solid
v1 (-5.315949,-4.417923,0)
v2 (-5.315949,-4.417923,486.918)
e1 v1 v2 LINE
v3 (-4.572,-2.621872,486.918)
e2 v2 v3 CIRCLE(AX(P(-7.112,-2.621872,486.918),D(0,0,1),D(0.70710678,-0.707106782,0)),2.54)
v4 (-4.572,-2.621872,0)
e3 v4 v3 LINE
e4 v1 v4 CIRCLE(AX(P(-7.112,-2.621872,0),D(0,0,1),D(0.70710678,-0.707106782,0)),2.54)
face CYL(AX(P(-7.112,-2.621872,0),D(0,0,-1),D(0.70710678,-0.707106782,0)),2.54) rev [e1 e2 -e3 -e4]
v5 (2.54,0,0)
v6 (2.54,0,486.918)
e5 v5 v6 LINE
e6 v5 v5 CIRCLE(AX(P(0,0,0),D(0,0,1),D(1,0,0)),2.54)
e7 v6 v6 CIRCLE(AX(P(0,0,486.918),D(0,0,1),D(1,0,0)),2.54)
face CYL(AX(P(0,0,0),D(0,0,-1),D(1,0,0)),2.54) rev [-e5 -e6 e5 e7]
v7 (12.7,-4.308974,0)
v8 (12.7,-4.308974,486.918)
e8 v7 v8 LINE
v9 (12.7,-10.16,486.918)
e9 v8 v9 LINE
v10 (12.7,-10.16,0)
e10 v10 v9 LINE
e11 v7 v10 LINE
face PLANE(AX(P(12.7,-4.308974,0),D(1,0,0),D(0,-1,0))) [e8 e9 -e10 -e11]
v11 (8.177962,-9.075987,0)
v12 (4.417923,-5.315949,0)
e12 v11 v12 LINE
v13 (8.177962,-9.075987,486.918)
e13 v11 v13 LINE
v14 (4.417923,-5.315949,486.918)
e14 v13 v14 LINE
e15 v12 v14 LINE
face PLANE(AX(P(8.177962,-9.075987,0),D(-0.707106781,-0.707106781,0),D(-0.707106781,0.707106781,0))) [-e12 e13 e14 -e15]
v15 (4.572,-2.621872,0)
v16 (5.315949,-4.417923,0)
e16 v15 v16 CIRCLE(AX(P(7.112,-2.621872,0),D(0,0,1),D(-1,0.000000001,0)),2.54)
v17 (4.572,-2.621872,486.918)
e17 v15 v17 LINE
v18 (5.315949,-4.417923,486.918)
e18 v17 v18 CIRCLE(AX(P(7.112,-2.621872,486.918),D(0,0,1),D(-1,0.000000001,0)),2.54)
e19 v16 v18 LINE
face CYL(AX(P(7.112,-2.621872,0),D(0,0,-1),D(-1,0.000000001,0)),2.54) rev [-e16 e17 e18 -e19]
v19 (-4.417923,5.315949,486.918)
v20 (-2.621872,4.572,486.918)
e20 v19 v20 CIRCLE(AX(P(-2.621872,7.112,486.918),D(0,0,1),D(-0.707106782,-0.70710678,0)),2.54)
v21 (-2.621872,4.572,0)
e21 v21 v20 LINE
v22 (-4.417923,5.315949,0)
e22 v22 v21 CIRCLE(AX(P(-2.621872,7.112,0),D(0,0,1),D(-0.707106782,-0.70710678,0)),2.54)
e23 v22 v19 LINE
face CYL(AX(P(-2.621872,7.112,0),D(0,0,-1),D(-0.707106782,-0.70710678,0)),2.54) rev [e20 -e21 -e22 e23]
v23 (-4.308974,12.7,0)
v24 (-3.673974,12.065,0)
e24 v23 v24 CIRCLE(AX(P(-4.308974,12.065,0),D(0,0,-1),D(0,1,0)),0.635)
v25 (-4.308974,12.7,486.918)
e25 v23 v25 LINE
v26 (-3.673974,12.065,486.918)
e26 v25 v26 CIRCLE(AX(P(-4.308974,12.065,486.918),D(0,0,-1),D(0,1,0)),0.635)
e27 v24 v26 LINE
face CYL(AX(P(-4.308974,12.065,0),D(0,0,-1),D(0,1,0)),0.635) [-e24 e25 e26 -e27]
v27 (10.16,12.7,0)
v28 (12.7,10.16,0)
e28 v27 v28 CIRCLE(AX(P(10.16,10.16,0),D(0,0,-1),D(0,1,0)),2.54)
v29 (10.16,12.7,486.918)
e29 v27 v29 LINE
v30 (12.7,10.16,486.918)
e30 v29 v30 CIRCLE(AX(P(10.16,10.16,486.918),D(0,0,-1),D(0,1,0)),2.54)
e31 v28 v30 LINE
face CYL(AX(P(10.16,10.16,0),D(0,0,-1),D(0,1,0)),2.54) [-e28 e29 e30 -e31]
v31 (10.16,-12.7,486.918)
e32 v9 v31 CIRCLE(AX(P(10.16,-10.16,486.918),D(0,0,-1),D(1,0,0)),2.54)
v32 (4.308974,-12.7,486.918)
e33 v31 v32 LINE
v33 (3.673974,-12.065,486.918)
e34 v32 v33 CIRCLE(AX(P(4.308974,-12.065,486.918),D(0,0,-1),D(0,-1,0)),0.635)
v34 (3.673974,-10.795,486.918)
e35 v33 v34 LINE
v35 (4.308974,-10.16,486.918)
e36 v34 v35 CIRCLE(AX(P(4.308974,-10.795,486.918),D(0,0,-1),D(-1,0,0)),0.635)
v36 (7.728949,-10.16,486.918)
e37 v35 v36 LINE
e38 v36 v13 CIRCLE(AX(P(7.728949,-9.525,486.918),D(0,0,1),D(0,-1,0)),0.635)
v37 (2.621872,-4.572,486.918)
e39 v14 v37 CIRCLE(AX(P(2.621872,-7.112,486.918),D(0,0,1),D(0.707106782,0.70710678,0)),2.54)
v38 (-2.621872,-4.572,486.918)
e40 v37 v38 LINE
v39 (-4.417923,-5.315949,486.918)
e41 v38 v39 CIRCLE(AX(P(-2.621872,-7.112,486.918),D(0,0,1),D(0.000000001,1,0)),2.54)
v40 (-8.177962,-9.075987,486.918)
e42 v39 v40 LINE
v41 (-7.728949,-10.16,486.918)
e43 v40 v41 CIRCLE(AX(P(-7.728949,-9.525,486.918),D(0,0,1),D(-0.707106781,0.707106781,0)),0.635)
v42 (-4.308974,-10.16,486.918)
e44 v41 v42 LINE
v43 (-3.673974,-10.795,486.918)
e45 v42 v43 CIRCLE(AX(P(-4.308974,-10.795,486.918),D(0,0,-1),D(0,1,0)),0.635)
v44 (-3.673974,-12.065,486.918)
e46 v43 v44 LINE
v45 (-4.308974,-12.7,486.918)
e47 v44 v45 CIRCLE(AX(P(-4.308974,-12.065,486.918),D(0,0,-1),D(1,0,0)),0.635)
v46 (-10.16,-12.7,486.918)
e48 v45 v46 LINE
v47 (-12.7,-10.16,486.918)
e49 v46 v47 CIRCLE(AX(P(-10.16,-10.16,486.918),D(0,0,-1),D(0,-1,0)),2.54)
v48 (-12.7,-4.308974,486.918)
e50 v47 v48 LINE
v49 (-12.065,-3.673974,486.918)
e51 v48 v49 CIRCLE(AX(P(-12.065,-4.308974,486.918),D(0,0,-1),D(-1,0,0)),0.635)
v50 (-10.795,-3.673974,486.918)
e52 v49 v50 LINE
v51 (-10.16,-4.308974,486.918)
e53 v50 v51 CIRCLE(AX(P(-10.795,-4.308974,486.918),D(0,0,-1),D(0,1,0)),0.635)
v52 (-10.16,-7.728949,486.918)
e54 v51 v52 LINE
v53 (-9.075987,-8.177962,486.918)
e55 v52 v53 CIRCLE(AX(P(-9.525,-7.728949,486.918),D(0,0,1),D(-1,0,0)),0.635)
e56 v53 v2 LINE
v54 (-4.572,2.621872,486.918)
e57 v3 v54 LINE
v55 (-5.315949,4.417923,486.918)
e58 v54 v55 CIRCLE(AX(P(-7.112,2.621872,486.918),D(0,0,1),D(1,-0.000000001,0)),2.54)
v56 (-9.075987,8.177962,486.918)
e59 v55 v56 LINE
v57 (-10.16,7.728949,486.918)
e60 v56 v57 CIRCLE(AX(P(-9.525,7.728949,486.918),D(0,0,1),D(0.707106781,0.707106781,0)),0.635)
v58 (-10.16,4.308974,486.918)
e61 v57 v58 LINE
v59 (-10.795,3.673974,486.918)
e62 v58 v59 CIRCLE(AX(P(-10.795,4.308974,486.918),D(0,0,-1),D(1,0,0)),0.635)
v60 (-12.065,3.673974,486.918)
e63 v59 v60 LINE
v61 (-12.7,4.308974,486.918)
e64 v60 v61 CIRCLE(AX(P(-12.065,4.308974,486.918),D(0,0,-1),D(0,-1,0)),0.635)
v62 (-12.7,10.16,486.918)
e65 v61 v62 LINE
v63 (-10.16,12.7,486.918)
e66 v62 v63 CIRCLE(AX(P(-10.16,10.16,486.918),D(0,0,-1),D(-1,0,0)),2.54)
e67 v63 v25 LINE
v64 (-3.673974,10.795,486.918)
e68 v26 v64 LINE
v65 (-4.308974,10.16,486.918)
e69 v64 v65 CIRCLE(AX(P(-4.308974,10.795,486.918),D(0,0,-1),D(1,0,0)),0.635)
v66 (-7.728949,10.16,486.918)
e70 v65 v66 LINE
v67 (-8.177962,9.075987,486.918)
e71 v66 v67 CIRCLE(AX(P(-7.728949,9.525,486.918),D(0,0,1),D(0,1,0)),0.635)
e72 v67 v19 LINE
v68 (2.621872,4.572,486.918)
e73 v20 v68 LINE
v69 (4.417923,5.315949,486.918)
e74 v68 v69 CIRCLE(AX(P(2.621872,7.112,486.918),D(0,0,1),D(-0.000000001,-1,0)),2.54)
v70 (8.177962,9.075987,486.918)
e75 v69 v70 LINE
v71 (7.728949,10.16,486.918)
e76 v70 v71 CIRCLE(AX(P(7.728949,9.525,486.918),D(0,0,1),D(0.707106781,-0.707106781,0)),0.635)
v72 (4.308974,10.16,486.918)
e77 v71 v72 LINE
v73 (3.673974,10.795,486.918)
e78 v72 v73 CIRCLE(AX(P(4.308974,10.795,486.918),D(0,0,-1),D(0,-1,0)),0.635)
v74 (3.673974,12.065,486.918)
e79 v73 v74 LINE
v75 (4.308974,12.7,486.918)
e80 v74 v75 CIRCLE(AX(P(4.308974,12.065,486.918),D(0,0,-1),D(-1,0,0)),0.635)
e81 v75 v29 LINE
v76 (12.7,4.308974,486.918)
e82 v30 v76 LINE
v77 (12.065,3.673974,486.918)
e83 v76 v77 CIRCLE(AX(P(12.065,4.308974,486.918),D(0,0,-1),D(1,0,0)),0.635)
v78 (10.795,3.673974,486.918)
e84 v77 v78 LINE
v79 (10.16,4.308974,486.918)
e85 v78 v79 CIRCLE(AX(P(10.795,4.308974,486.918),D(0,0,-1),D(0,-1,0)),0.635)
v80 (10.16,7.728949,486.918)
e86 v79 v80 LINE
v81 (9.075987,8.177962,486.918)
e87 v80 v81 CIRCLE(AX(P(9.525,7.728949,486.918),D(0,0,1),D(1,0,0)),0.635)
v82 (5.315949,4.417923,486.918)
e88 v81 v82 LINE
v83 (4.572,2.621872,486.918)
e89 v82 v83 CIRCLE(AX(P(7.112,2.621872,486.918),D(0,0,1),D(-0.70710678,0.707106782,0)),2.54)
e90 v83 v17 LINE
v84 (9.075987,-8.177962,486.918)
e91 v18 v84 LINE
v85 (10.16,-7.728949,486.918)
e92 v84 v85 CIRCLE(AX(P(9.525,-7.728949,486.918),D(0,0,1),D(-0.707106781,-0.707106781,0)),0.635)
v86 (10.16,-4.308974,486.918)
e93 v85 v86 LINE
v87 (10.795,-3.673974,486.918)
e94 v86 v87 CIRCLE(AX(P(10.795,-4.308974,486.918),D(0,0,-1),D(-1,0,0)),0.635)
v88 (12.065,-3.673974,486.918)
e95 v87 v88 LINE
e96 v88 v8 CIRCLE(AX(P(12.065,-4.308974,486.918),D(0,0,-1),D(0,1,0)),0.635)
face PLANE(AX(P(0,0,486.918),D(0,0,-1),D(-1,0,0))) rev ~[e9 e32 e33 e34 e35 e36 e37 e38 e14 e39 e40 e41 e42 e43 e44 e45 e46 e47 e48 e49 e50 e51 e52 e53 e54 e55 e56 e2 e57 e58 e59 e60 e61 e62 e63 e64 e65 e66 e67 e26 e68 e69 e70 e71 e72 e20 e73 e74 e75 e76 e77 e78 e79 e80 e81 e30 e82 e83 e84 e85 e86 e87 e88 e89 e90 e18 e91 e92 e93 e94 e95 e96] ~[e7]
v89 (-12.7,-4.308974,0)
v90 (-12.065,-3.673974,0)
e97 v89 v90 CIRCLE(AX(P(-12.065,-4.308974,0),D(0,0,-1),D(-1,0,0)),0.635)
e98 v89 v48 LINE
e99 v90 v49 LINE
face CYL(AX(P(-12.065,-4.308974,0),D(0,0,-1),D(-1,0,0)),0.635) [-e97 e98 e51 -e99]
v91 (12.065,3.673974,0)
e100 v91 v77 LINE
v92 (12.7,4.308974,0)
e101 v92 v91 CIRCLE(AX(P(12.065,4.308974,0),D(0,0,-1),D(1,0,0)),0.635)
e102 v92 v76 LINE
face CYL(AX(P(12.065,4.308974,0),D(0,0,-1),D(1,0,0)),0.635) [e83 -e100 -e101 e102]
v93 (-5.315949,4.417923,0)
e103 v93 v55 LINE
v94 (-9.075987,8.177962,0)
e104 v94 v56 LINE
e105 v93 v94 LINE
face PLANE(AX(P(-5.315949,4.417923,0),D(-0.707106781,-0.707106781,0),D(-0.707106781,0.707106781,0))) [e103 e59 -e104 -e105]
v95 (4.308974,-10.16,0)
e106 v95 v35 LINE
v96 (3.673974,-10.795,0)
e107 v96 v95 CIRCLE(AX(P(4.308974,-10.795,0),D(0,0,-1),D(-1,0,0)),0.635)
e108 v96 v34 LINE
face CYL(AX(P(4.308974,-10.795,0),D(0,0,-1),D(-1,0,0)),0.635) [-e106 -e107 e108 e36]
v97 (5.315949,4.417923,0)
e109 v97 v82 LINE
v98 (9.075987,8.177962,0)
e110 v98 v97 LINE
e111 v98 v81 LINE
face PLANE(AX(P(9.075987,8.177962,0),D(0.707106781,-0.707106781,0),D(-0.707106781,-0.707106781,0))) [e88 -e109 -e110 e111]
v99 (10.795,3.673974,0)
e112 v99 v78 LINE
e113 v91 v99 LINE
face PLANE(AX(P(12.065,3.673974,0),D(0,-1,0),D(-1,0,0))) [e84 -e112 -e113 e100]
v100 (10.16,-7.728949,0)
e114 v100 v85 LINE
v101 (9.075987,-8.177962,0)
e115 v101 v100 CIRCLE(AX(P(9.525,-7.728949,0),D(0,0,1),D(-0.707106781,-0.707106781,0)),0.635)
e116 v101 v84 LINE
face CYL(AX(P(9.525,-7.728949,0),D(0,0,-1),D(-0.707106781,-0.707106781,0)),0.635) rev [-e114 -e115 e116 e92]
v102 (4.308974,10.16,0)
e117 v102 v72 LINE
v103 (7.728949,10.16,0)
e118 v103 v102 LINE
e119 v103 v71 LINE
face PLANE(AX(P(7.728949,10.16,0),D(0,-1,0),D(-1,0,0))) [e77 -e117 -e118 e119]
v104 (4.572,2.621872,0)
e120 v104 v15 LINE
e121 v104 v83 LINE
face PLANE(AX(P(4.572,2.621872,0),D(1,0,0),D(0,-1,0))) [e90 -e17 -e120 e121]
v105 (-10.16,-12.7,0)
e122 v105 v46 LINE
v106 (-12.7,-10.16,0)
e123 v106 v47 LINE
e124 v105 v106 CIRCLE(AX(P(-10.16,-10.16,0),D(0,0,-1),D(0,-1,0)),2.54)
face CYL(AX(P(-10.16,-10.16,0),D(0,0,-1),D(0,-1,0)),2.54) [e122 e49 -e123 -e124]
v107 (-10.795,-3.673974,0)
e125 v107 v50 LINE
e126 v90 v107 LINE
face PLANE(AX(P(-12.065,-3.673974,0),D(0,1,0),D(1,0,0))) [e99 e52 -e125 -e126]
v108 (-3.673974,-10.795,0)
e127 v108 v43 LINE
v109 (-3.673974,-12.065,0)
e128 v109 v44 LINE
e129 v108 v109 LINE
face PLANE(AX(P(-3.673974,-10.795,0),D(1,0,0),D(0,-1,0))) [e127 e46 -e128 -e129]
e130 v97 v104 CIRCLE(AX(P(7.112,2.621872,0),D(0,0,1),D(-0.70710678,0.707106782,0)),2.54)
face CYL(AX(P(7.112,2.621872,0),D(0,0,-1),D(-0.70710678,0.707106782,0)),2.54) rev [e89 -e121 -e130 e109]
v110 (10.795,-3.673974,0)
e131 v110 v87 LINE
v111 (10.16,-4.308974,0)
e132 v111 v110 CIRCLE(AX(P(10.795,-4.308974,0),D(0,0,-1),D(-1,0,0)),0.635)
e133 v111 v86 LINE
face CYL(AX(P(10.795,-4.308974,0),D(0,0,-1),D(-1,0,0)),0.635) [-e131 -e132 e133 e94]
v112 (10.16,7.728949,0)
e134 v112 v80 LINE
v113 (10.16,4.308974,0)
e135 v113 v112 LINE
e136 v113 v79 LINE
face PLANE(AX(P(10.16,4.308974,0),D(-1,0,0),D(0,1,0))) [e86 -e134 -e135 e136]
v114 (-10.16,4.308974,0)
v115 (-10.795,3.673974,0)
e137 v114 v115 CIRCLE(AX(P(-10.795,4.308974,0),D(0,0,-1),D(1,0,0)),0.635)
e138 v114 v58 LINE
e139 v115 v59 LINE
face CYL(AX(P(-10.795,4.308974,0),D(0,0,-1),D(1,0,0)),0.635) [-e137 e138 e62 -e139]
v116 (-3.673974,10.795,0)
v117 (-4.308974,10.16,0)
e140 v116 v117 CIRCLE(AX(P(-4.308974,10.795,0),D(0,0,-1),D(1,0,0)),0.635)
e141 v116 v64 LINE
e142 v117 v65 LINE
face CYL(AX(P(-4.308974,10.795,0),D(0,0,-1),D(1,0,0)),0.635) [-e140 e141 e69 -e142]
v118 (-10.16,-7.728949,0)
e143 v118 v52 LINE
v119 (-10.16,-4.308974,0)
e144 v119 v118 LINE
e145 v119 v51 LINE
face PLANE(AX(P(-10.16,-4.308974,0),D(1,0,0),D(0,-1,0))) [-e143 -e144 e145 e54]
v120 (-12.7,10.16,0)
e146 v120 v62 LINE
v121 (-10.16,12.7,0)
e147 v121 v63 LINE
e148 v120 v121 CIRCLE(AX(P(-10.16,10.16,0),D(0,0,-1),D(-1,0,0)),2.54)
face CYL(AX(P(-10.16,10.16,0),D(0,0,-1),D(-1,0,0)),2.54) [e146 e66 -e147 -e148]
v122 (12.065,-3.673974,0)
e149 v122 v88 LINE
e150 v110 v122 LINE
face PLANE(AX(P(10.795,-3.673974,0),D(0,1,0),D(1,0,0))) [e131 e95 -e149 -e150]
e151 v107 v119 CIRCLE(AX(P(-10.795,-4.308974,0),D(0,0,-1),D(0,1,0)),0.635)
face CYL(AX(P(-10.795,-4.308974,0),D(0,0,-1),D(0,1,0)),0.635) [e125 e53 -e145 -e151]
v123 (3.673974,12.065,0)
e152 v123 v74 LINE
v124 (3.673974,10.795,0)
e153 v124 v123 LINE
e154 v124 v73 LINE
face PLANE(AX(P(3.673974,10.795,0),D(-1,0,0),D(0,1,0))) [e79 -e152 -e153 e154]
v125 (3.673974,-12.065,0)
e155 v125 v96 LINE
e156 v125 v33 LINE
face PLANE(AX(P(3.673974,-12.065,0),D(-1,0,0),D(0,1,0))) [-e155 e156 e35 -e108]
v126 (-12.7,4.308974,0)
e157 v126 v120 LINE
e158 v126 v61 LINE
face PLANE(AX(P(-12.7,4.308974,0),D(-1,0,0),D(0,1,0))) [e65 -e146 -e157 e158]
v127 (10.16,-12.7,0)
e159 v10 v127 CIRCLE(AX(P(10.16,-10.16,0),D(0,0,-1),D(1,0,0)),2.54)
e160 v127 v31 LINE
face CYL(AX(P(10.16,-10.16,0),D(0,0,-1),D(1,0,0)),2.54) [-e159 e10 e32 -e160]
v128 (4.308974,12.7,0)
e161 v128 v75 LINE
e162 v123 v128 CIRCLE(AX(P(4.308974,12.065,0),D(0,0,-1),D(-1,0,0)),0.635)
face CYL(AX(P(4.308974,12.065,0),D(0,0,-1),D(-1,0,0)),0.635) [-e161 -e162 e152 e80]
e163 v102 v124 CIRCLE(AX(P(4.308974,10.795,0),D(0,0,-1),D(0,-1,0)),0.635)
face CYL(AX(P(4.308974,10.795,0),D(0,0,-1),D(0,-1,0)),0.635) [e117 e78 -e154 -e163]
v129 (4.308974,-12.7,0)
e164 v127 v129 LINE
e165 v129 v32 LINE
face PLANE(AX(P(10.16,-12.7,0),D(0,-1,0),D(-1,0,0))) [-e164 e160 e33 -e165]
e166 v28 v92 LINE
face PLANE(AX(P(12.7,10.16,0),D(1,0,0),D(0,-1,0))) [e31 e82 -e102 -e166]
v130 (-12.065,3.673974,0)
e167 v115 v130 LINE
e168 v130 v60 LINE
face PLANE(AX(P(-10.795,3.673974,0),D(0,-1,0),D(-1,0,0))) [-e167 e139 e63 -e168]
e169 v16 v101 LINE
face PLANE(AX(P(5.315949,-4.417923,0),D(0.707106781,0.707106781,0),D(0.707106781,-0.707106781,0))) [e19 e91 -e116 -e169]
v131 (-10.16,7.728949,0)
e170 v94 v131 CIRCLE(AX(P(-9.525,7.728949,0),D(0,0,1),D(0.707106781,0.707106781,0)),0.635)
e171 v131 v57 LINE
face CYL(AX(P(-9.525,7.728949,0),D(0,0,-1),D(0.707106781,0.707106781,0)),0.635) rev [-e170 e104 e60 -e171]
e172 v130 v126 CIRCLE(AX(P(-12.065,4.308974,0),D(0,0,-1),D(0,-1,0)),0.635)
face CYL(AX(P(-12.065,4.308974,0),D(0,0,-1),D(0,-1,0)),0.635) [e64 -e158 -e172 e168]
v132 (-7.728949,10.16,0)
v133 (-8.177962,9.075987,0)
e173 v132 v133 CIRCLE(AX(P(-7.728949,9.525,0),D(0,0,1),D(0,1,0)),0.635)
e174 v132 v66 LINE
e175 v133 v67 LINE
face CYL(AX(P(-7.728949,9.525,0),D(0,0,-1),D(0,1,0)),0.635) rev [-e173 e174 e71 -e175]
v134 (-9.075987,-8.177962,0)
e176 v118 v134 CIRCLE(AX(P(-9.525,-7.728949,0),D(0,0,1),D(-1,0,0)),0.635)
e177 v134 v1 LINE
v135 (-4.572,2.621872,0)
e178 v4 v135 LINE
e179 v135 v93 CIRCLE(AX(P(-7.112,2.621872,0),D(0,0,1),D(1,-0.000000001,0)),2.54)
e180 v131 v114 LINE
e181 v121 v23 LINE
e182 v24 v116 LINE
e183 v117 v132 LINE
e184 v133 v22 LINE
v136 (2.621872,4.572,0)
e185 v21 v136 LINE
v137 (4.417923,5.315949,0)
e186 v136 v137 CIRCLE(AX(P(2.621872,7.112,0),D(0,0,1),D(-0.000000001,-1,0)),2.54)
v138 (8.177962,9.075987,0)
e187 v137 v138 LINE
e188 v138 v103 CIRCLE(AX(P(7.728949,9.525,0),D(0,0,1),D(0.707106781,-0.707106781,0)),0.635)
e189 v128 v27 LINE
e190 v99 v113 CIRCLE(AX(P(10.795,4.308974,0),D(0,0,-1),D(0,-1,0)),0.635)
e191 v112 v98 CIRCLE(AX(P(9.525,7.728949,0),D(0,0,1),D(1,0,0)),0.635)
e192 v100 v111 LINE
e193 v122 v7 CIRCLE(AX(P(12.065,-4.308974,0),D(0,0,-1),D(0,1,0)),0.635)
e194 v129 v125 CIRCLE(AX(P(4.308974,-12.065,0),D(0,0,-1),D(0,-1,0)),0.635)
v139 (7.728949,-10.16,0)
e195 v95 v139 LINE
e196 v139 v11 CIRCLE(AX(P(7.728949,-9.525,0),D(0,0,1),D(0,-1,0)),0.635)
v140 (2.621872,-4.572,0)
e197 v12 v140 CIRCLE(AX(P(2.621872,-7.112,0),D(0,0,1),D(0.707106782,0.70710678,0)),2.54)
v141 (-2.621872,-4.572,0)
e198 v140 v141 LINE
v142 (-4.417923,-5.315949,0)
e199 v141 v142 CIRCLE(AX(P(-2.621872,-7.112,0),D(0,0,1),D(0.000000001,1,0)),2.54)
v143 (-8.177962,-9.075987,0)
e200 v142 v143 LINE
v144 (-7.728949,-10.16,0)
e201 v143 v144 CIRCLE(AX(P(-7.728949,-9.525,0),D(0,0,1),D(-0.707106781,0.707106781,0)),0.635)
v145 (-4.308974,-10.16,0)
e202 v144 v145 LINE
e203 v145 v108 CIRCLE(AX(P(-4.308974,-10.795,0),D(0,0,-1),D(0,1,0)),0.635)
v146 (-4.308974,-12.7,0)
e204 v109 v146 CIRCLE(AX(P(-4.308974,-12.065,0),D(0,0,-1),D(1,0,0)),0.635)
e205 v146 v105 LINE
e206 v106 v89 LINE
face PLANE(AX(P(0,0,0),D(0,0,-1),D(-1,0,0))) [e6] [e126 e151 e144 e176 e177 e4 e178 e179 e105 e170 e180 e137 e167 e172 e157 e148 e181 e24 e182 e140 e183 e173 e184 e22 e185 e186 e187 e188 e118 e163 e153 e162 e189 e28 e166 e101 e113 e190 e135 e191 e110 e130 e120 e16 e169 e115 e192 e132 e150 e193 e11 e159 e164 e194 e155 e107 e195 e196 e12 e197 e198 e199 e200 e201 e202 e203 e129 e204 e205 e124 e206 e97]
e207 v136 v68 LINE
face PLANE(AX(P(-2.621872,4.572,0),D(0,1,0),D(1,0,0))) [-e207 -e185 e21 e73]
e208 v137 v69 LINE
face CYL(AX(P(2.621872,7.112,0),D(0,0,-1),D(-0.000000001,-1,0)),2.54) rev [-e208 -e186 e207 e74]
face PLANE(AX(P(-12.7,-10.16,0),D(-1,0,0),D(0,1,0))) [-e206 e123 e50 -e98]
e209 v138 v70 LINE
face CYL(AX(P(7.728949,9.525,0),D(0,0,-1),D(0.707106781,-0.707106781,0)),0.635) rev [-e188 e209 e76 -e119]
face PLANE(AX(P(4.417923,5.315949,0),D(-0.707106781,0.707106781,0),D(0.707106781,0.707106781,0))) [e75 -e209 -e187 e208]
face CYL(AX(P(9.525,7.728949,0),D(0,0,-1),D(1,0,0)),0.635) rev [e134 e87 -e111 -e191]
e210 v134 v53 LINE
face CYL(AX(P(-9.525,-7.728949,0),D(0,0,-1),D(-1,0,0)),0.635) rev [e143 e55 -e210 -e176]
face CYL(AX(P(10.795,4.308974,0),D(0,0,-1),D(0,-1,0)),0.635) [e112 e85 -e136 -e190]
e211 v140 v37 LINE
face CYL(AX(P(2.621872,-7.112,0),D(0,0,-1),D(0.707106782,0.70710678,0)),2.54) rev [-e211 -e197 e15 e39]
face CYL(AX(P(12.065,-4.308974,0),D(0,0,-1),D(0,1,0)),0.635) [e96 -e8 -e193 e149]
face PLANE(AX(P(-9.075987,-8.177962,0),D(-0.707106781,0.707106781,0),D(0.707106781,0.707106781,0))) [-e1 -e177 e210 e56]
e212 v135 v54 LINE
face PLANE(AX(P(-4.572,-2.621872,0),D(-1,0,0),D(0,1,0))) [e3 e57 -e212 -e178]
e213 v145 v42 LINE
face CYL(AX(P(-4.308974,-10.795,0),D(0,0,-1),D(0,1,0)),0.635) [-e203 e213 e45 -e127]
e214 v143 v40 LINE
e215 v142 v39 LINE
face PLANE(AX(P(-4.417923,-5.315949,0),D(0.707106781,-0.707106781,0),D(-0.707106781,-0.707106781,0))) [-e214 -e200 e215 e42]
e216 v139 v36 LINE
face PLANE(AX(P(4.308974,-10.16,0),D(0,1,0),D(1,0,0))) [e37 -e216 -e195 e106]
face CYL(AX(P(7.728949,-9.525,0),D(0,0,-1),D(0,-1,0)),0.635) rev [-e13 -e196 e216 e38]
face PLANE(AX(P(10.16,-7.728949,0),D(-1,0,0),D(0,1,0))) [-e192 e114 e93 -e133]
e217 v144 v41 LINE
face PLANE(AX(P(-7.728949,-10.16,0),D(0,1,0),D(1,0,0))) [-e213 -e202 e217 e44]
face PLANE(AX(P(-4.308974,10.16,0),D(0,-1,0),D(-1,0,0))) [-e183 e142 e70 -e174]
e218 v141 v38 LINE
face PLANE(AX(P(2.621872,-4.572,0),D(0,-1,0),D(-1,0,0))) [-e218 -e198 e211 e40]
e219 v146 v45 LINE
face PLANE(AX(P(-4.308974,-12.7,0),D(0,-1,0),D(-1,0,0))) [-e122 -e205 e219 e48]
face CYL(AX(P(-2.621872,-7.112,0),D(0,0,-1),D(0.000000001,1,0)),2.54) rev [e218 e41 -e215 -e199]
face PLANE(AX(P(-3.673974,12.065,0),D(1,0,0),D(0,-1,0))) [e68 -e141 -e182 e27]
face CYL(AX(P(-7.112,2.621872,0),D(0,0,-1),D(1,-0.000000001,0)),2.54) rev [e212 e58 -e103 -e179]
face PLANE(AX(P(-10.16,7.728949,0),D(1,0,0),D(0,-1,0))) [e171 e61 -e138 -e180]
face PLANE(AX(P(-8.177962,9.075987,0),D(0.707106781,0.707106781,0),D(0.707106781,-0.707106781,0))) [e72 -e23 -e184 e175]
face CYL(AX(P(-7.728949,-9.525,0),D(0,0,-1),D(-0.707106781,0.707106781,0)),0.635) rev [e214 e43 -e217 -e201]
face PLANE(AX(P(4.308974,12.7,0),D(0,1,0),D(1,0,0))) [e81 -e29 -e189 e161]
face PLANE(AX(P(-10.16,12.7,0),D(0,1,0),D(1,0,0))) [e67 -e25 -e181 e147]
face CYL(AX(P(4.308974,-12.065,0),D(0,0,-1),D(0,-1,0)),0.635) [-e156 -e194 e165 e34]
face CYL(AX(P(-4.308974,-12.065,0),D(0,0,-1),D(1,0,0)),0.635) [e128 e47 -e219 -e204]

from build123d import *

# Parameters (mm, degrees)
SKETCH1_R           = 2.54
BOSS_EXTRUDE1_DEPTH = 486.918


with BuildPart() as part:
    # Sketch1 → Boss-Extrude1 (new body)
    with BuildSketch(Plane.XY):
        with BuildLine():
            Line((4.417923164, 5.315948776), (8.177961582, 9.075987194))
            ThreePointArc((8.177961582, 9.075987194), (8.315612279, 9.76800398), (7.728948776, 10.16))
            Line((7.728948776, 10.16), (4.308974388, 10.16))
            ThreePointArc((4.308974388, 10.16), (3.859961582, 10.345987194), (3.673974388, 10.795))
            Line((3.673974388, 10.795), (3.673974388, 12.065))
            ThreePointArc((3.673974388, 12.065), (3.859961582, 12.514012806), (4.308974388, 12.7))
            Line((4.308974388, 12.7), (10.16, 12.7))
            ThreePointArc((10.16, 12.7), (11.956051224, 11.956051224), (12.7, 10.16))
            Line((12.7, 10.16), (12.7, 4.308974388))
            ThreePointArc((12.7, 4.308974388), (12.514012806, 3.859961582), (12.065, 3.673974388))
            Line((12.065, 3.673974388), (10.795, 3.673974388))
            ThreePointArc((10.795, 3.673974388), (10.345987194, 3.859961582), (10.16, 4.308974388))
            Line((10.16, 4.308974388), (10.16, 7.728948776))
            ThreePointArc((10.16, 7.728948776), (9.76800398, 8.315612279), (9.075987194, 8.177961582))
            Line((9.075987194, 8.177961582), (5.315948776, 4.417923164))
            ThreePointArc((5.315948776, 4.417923164), (4.765345987, 3.593887858), (4.572, 2.621871939))
            Line((4.572, 2.621871939), (4.572, -2.621871939))
            ThreePointArc((4.572, -2.621871939), (4.765345987, -3.593887858), (5.315948776, -4.417923164))
            Line((5.315948776, -4.417923164), (9.075987194, -8.177961582))
            ThreePointArc((9.075987194, -8.177961582), (9.76800398, -8.315612279), (10.16, -7.728948776))
            Line((10.16, -7.728948776), (10.16, -4.308974388))
            ThreePointArc((10.16, -4.308974388), (10.345987194, -3.859961582), (10.795, -3.673974388))
            Line((10.795, -3.673974388), (12.065, -3.673974388))
            ThreePointArc((12.065, -3.673974388), (12.514012806, -3.859961582), (12.7, -4.308974388))
            Line((12.7, -4.308974388), (12.7, -10.16))
            ThreePointArc((12.7, -10.16), (11.956051224, -11.956051224), (10.16, -12.7))
            Line((10.16, -12.7), (4.308974388, -12.7))
            ThreePointArc((4.308974388, -12.7), (3.859961582, -12.514012806), (3.673974388, -12.065))
            Line((3.673974388, -12.065), (3.673974388, -10.795))
            ThreePointArc((3.673974388, -10.795), (3.859961582, -10.345987194), (4.308974388, -10.16))
            Line((4.308974388, -10.16), (7.728948776, -10.16))
            ThreePointArc((7.728948776, -10.16), (8.315612279, -9.76800398), (8.177961582, -9.075987194))
            Line((8.177961582, -9.075987194), (4.417923164, -5.315948776))
            ThreePointArc((4.417923164, -5.315948776), (3.593887858, -4.765345987), (2.621871939, -4.572))
            Line((2.621871939, -4.572), (-2.621871939, -4.572))
            ThreePointArc((-2.621871939, -4.572), (-3.593887858, -4.765345987), (-4.417923164, -5.315948776))
            Line((-4.417923164, -5.315948776), (-8.177961582, -9.075987194))
            ThreePointArc((-8.177961582, -9.075987194), (-8.315612279, -9.76800398), (-7.728948776, -10.16))
            Line((-7.728948776, -10.16), (-4.308974388, -10.16))
            ThreePointArc((-4.308974388, -10.16), (-3.859961582, -10.345987194), (-3.673974388, -10.795))
            Line((-3.673974388, -10.795), (-3.673974388, -12.065))
            ThreePointArc((-3.673974388, -12.065), (-3.859961582, -12.514012806), (-4.308974388, -12.7))
            Line((-4.308974388, -12.7), (-10.16, -12.7))
            ThreePointArc((-10.16, -12.7), (-11.956051224, -11.956051224), (-12.7, -10.16))
            Line((-12.7, -10.16), (-12.7, -4.308974388))
            ThreePointArc((-12.7, -4.308974388), (-12.514012806, -3.859961582), (-12.065, -3.673974388))
            Line((-12.065, -3.673974388), (-10.795, -3.673974388))
            ThreePointArc((-10.795, -3.673974388), (-10.345987194, -3.859961582), (-10.16, -4.308974388))
            Line((-10.16, -4.308974388), (-10.16, -7.728948776))
            ThreePointArc((-10.16, -7.728948776), (-9.76800398, -8.315612279), (-9.075987194, -8.177961582))
            Line((-9.075987194, -8.177961582), (-5.315948776, -4.417923164))
            ThreePointArc((-5.315948776, -4.417923164), (-4.765345987, -3.593887858), (-4.572, -2.621871939))
            Line((-4.572, -2.621871939), (-4.572, 2.621871939))
            ThreePointArc((-4.572, 2.621871939), (-4.765345987, 3.593887858), (-5.315948776, 4.417923164))
            Line((-5.315948776, 4.417923164), (-9.075987194, 8.177961582))
            ThreePointArc((-9.075987194, 8.177961582), (-9.76800398, 8.315612279), (-10.16, 7.728948776))
            Line((-10.16, 7.728948776), (-10.16, 4.308974388))
            ThreePointArc((-10.16, 4.308974388), (-10.345987194, 3.859961582), (-10.795, 3.673974388))
            Line((-10.795, 3.673974388), (-12.065, 3.673974388))
            ThreePointArc((-12.065, 3.673974388), (-12.514012806, 3.859961582), (-12.7, 4.308974388))
            Line((-12.7, 4.308974388), (-12.7, 10.16))
            ThreePointArc((-12.7, 10.16), (-11.956051224, 11.956051224), (-10.16, 12.7))
            Line((-10.16, 12.7), (-4.308974388, 12.7))
            ThreePointArc((-4.308974388, 12.7), (-3.859961582, 12.514012806), (-3.673974388, 12.065))
            Line((-3.673974388, 12.065), (-3.673974388, 10.795))
            ThreePointArc((-3.673974388, 10.795), (-3.859961582, 10.345987194), (-4.308974388, 10.16))
            Line((-4.308974388, 10.16), (-7.728948776, 10.16))
            ThreePointArc((-7.728948776, 10.16), (-8.315612279, 9.76800398), (-8.177961582, 9.075987194))
            Line((-8.177961582, 9.075987194), (-4.417923164, 5.315948776))
            ThreePointArc((-4.417923164, 5.315948776), (-3.593887858, 4.765345987), (-2.621871939, 4.572))
            Line((-2.621871939, 4.572), (2.621871939, 4.572))
            ThreePointArc((2.621871939, 4.572), (3.593887858, 4.765345987), (4.417923164, 5.315948776))
        make_face()
        Circle(SKETCH1_R, mode=Mode.SUBTRACT)
    extrude(amount=BOSS_EXTRUDE1_DEPTH)


solid = part.part
